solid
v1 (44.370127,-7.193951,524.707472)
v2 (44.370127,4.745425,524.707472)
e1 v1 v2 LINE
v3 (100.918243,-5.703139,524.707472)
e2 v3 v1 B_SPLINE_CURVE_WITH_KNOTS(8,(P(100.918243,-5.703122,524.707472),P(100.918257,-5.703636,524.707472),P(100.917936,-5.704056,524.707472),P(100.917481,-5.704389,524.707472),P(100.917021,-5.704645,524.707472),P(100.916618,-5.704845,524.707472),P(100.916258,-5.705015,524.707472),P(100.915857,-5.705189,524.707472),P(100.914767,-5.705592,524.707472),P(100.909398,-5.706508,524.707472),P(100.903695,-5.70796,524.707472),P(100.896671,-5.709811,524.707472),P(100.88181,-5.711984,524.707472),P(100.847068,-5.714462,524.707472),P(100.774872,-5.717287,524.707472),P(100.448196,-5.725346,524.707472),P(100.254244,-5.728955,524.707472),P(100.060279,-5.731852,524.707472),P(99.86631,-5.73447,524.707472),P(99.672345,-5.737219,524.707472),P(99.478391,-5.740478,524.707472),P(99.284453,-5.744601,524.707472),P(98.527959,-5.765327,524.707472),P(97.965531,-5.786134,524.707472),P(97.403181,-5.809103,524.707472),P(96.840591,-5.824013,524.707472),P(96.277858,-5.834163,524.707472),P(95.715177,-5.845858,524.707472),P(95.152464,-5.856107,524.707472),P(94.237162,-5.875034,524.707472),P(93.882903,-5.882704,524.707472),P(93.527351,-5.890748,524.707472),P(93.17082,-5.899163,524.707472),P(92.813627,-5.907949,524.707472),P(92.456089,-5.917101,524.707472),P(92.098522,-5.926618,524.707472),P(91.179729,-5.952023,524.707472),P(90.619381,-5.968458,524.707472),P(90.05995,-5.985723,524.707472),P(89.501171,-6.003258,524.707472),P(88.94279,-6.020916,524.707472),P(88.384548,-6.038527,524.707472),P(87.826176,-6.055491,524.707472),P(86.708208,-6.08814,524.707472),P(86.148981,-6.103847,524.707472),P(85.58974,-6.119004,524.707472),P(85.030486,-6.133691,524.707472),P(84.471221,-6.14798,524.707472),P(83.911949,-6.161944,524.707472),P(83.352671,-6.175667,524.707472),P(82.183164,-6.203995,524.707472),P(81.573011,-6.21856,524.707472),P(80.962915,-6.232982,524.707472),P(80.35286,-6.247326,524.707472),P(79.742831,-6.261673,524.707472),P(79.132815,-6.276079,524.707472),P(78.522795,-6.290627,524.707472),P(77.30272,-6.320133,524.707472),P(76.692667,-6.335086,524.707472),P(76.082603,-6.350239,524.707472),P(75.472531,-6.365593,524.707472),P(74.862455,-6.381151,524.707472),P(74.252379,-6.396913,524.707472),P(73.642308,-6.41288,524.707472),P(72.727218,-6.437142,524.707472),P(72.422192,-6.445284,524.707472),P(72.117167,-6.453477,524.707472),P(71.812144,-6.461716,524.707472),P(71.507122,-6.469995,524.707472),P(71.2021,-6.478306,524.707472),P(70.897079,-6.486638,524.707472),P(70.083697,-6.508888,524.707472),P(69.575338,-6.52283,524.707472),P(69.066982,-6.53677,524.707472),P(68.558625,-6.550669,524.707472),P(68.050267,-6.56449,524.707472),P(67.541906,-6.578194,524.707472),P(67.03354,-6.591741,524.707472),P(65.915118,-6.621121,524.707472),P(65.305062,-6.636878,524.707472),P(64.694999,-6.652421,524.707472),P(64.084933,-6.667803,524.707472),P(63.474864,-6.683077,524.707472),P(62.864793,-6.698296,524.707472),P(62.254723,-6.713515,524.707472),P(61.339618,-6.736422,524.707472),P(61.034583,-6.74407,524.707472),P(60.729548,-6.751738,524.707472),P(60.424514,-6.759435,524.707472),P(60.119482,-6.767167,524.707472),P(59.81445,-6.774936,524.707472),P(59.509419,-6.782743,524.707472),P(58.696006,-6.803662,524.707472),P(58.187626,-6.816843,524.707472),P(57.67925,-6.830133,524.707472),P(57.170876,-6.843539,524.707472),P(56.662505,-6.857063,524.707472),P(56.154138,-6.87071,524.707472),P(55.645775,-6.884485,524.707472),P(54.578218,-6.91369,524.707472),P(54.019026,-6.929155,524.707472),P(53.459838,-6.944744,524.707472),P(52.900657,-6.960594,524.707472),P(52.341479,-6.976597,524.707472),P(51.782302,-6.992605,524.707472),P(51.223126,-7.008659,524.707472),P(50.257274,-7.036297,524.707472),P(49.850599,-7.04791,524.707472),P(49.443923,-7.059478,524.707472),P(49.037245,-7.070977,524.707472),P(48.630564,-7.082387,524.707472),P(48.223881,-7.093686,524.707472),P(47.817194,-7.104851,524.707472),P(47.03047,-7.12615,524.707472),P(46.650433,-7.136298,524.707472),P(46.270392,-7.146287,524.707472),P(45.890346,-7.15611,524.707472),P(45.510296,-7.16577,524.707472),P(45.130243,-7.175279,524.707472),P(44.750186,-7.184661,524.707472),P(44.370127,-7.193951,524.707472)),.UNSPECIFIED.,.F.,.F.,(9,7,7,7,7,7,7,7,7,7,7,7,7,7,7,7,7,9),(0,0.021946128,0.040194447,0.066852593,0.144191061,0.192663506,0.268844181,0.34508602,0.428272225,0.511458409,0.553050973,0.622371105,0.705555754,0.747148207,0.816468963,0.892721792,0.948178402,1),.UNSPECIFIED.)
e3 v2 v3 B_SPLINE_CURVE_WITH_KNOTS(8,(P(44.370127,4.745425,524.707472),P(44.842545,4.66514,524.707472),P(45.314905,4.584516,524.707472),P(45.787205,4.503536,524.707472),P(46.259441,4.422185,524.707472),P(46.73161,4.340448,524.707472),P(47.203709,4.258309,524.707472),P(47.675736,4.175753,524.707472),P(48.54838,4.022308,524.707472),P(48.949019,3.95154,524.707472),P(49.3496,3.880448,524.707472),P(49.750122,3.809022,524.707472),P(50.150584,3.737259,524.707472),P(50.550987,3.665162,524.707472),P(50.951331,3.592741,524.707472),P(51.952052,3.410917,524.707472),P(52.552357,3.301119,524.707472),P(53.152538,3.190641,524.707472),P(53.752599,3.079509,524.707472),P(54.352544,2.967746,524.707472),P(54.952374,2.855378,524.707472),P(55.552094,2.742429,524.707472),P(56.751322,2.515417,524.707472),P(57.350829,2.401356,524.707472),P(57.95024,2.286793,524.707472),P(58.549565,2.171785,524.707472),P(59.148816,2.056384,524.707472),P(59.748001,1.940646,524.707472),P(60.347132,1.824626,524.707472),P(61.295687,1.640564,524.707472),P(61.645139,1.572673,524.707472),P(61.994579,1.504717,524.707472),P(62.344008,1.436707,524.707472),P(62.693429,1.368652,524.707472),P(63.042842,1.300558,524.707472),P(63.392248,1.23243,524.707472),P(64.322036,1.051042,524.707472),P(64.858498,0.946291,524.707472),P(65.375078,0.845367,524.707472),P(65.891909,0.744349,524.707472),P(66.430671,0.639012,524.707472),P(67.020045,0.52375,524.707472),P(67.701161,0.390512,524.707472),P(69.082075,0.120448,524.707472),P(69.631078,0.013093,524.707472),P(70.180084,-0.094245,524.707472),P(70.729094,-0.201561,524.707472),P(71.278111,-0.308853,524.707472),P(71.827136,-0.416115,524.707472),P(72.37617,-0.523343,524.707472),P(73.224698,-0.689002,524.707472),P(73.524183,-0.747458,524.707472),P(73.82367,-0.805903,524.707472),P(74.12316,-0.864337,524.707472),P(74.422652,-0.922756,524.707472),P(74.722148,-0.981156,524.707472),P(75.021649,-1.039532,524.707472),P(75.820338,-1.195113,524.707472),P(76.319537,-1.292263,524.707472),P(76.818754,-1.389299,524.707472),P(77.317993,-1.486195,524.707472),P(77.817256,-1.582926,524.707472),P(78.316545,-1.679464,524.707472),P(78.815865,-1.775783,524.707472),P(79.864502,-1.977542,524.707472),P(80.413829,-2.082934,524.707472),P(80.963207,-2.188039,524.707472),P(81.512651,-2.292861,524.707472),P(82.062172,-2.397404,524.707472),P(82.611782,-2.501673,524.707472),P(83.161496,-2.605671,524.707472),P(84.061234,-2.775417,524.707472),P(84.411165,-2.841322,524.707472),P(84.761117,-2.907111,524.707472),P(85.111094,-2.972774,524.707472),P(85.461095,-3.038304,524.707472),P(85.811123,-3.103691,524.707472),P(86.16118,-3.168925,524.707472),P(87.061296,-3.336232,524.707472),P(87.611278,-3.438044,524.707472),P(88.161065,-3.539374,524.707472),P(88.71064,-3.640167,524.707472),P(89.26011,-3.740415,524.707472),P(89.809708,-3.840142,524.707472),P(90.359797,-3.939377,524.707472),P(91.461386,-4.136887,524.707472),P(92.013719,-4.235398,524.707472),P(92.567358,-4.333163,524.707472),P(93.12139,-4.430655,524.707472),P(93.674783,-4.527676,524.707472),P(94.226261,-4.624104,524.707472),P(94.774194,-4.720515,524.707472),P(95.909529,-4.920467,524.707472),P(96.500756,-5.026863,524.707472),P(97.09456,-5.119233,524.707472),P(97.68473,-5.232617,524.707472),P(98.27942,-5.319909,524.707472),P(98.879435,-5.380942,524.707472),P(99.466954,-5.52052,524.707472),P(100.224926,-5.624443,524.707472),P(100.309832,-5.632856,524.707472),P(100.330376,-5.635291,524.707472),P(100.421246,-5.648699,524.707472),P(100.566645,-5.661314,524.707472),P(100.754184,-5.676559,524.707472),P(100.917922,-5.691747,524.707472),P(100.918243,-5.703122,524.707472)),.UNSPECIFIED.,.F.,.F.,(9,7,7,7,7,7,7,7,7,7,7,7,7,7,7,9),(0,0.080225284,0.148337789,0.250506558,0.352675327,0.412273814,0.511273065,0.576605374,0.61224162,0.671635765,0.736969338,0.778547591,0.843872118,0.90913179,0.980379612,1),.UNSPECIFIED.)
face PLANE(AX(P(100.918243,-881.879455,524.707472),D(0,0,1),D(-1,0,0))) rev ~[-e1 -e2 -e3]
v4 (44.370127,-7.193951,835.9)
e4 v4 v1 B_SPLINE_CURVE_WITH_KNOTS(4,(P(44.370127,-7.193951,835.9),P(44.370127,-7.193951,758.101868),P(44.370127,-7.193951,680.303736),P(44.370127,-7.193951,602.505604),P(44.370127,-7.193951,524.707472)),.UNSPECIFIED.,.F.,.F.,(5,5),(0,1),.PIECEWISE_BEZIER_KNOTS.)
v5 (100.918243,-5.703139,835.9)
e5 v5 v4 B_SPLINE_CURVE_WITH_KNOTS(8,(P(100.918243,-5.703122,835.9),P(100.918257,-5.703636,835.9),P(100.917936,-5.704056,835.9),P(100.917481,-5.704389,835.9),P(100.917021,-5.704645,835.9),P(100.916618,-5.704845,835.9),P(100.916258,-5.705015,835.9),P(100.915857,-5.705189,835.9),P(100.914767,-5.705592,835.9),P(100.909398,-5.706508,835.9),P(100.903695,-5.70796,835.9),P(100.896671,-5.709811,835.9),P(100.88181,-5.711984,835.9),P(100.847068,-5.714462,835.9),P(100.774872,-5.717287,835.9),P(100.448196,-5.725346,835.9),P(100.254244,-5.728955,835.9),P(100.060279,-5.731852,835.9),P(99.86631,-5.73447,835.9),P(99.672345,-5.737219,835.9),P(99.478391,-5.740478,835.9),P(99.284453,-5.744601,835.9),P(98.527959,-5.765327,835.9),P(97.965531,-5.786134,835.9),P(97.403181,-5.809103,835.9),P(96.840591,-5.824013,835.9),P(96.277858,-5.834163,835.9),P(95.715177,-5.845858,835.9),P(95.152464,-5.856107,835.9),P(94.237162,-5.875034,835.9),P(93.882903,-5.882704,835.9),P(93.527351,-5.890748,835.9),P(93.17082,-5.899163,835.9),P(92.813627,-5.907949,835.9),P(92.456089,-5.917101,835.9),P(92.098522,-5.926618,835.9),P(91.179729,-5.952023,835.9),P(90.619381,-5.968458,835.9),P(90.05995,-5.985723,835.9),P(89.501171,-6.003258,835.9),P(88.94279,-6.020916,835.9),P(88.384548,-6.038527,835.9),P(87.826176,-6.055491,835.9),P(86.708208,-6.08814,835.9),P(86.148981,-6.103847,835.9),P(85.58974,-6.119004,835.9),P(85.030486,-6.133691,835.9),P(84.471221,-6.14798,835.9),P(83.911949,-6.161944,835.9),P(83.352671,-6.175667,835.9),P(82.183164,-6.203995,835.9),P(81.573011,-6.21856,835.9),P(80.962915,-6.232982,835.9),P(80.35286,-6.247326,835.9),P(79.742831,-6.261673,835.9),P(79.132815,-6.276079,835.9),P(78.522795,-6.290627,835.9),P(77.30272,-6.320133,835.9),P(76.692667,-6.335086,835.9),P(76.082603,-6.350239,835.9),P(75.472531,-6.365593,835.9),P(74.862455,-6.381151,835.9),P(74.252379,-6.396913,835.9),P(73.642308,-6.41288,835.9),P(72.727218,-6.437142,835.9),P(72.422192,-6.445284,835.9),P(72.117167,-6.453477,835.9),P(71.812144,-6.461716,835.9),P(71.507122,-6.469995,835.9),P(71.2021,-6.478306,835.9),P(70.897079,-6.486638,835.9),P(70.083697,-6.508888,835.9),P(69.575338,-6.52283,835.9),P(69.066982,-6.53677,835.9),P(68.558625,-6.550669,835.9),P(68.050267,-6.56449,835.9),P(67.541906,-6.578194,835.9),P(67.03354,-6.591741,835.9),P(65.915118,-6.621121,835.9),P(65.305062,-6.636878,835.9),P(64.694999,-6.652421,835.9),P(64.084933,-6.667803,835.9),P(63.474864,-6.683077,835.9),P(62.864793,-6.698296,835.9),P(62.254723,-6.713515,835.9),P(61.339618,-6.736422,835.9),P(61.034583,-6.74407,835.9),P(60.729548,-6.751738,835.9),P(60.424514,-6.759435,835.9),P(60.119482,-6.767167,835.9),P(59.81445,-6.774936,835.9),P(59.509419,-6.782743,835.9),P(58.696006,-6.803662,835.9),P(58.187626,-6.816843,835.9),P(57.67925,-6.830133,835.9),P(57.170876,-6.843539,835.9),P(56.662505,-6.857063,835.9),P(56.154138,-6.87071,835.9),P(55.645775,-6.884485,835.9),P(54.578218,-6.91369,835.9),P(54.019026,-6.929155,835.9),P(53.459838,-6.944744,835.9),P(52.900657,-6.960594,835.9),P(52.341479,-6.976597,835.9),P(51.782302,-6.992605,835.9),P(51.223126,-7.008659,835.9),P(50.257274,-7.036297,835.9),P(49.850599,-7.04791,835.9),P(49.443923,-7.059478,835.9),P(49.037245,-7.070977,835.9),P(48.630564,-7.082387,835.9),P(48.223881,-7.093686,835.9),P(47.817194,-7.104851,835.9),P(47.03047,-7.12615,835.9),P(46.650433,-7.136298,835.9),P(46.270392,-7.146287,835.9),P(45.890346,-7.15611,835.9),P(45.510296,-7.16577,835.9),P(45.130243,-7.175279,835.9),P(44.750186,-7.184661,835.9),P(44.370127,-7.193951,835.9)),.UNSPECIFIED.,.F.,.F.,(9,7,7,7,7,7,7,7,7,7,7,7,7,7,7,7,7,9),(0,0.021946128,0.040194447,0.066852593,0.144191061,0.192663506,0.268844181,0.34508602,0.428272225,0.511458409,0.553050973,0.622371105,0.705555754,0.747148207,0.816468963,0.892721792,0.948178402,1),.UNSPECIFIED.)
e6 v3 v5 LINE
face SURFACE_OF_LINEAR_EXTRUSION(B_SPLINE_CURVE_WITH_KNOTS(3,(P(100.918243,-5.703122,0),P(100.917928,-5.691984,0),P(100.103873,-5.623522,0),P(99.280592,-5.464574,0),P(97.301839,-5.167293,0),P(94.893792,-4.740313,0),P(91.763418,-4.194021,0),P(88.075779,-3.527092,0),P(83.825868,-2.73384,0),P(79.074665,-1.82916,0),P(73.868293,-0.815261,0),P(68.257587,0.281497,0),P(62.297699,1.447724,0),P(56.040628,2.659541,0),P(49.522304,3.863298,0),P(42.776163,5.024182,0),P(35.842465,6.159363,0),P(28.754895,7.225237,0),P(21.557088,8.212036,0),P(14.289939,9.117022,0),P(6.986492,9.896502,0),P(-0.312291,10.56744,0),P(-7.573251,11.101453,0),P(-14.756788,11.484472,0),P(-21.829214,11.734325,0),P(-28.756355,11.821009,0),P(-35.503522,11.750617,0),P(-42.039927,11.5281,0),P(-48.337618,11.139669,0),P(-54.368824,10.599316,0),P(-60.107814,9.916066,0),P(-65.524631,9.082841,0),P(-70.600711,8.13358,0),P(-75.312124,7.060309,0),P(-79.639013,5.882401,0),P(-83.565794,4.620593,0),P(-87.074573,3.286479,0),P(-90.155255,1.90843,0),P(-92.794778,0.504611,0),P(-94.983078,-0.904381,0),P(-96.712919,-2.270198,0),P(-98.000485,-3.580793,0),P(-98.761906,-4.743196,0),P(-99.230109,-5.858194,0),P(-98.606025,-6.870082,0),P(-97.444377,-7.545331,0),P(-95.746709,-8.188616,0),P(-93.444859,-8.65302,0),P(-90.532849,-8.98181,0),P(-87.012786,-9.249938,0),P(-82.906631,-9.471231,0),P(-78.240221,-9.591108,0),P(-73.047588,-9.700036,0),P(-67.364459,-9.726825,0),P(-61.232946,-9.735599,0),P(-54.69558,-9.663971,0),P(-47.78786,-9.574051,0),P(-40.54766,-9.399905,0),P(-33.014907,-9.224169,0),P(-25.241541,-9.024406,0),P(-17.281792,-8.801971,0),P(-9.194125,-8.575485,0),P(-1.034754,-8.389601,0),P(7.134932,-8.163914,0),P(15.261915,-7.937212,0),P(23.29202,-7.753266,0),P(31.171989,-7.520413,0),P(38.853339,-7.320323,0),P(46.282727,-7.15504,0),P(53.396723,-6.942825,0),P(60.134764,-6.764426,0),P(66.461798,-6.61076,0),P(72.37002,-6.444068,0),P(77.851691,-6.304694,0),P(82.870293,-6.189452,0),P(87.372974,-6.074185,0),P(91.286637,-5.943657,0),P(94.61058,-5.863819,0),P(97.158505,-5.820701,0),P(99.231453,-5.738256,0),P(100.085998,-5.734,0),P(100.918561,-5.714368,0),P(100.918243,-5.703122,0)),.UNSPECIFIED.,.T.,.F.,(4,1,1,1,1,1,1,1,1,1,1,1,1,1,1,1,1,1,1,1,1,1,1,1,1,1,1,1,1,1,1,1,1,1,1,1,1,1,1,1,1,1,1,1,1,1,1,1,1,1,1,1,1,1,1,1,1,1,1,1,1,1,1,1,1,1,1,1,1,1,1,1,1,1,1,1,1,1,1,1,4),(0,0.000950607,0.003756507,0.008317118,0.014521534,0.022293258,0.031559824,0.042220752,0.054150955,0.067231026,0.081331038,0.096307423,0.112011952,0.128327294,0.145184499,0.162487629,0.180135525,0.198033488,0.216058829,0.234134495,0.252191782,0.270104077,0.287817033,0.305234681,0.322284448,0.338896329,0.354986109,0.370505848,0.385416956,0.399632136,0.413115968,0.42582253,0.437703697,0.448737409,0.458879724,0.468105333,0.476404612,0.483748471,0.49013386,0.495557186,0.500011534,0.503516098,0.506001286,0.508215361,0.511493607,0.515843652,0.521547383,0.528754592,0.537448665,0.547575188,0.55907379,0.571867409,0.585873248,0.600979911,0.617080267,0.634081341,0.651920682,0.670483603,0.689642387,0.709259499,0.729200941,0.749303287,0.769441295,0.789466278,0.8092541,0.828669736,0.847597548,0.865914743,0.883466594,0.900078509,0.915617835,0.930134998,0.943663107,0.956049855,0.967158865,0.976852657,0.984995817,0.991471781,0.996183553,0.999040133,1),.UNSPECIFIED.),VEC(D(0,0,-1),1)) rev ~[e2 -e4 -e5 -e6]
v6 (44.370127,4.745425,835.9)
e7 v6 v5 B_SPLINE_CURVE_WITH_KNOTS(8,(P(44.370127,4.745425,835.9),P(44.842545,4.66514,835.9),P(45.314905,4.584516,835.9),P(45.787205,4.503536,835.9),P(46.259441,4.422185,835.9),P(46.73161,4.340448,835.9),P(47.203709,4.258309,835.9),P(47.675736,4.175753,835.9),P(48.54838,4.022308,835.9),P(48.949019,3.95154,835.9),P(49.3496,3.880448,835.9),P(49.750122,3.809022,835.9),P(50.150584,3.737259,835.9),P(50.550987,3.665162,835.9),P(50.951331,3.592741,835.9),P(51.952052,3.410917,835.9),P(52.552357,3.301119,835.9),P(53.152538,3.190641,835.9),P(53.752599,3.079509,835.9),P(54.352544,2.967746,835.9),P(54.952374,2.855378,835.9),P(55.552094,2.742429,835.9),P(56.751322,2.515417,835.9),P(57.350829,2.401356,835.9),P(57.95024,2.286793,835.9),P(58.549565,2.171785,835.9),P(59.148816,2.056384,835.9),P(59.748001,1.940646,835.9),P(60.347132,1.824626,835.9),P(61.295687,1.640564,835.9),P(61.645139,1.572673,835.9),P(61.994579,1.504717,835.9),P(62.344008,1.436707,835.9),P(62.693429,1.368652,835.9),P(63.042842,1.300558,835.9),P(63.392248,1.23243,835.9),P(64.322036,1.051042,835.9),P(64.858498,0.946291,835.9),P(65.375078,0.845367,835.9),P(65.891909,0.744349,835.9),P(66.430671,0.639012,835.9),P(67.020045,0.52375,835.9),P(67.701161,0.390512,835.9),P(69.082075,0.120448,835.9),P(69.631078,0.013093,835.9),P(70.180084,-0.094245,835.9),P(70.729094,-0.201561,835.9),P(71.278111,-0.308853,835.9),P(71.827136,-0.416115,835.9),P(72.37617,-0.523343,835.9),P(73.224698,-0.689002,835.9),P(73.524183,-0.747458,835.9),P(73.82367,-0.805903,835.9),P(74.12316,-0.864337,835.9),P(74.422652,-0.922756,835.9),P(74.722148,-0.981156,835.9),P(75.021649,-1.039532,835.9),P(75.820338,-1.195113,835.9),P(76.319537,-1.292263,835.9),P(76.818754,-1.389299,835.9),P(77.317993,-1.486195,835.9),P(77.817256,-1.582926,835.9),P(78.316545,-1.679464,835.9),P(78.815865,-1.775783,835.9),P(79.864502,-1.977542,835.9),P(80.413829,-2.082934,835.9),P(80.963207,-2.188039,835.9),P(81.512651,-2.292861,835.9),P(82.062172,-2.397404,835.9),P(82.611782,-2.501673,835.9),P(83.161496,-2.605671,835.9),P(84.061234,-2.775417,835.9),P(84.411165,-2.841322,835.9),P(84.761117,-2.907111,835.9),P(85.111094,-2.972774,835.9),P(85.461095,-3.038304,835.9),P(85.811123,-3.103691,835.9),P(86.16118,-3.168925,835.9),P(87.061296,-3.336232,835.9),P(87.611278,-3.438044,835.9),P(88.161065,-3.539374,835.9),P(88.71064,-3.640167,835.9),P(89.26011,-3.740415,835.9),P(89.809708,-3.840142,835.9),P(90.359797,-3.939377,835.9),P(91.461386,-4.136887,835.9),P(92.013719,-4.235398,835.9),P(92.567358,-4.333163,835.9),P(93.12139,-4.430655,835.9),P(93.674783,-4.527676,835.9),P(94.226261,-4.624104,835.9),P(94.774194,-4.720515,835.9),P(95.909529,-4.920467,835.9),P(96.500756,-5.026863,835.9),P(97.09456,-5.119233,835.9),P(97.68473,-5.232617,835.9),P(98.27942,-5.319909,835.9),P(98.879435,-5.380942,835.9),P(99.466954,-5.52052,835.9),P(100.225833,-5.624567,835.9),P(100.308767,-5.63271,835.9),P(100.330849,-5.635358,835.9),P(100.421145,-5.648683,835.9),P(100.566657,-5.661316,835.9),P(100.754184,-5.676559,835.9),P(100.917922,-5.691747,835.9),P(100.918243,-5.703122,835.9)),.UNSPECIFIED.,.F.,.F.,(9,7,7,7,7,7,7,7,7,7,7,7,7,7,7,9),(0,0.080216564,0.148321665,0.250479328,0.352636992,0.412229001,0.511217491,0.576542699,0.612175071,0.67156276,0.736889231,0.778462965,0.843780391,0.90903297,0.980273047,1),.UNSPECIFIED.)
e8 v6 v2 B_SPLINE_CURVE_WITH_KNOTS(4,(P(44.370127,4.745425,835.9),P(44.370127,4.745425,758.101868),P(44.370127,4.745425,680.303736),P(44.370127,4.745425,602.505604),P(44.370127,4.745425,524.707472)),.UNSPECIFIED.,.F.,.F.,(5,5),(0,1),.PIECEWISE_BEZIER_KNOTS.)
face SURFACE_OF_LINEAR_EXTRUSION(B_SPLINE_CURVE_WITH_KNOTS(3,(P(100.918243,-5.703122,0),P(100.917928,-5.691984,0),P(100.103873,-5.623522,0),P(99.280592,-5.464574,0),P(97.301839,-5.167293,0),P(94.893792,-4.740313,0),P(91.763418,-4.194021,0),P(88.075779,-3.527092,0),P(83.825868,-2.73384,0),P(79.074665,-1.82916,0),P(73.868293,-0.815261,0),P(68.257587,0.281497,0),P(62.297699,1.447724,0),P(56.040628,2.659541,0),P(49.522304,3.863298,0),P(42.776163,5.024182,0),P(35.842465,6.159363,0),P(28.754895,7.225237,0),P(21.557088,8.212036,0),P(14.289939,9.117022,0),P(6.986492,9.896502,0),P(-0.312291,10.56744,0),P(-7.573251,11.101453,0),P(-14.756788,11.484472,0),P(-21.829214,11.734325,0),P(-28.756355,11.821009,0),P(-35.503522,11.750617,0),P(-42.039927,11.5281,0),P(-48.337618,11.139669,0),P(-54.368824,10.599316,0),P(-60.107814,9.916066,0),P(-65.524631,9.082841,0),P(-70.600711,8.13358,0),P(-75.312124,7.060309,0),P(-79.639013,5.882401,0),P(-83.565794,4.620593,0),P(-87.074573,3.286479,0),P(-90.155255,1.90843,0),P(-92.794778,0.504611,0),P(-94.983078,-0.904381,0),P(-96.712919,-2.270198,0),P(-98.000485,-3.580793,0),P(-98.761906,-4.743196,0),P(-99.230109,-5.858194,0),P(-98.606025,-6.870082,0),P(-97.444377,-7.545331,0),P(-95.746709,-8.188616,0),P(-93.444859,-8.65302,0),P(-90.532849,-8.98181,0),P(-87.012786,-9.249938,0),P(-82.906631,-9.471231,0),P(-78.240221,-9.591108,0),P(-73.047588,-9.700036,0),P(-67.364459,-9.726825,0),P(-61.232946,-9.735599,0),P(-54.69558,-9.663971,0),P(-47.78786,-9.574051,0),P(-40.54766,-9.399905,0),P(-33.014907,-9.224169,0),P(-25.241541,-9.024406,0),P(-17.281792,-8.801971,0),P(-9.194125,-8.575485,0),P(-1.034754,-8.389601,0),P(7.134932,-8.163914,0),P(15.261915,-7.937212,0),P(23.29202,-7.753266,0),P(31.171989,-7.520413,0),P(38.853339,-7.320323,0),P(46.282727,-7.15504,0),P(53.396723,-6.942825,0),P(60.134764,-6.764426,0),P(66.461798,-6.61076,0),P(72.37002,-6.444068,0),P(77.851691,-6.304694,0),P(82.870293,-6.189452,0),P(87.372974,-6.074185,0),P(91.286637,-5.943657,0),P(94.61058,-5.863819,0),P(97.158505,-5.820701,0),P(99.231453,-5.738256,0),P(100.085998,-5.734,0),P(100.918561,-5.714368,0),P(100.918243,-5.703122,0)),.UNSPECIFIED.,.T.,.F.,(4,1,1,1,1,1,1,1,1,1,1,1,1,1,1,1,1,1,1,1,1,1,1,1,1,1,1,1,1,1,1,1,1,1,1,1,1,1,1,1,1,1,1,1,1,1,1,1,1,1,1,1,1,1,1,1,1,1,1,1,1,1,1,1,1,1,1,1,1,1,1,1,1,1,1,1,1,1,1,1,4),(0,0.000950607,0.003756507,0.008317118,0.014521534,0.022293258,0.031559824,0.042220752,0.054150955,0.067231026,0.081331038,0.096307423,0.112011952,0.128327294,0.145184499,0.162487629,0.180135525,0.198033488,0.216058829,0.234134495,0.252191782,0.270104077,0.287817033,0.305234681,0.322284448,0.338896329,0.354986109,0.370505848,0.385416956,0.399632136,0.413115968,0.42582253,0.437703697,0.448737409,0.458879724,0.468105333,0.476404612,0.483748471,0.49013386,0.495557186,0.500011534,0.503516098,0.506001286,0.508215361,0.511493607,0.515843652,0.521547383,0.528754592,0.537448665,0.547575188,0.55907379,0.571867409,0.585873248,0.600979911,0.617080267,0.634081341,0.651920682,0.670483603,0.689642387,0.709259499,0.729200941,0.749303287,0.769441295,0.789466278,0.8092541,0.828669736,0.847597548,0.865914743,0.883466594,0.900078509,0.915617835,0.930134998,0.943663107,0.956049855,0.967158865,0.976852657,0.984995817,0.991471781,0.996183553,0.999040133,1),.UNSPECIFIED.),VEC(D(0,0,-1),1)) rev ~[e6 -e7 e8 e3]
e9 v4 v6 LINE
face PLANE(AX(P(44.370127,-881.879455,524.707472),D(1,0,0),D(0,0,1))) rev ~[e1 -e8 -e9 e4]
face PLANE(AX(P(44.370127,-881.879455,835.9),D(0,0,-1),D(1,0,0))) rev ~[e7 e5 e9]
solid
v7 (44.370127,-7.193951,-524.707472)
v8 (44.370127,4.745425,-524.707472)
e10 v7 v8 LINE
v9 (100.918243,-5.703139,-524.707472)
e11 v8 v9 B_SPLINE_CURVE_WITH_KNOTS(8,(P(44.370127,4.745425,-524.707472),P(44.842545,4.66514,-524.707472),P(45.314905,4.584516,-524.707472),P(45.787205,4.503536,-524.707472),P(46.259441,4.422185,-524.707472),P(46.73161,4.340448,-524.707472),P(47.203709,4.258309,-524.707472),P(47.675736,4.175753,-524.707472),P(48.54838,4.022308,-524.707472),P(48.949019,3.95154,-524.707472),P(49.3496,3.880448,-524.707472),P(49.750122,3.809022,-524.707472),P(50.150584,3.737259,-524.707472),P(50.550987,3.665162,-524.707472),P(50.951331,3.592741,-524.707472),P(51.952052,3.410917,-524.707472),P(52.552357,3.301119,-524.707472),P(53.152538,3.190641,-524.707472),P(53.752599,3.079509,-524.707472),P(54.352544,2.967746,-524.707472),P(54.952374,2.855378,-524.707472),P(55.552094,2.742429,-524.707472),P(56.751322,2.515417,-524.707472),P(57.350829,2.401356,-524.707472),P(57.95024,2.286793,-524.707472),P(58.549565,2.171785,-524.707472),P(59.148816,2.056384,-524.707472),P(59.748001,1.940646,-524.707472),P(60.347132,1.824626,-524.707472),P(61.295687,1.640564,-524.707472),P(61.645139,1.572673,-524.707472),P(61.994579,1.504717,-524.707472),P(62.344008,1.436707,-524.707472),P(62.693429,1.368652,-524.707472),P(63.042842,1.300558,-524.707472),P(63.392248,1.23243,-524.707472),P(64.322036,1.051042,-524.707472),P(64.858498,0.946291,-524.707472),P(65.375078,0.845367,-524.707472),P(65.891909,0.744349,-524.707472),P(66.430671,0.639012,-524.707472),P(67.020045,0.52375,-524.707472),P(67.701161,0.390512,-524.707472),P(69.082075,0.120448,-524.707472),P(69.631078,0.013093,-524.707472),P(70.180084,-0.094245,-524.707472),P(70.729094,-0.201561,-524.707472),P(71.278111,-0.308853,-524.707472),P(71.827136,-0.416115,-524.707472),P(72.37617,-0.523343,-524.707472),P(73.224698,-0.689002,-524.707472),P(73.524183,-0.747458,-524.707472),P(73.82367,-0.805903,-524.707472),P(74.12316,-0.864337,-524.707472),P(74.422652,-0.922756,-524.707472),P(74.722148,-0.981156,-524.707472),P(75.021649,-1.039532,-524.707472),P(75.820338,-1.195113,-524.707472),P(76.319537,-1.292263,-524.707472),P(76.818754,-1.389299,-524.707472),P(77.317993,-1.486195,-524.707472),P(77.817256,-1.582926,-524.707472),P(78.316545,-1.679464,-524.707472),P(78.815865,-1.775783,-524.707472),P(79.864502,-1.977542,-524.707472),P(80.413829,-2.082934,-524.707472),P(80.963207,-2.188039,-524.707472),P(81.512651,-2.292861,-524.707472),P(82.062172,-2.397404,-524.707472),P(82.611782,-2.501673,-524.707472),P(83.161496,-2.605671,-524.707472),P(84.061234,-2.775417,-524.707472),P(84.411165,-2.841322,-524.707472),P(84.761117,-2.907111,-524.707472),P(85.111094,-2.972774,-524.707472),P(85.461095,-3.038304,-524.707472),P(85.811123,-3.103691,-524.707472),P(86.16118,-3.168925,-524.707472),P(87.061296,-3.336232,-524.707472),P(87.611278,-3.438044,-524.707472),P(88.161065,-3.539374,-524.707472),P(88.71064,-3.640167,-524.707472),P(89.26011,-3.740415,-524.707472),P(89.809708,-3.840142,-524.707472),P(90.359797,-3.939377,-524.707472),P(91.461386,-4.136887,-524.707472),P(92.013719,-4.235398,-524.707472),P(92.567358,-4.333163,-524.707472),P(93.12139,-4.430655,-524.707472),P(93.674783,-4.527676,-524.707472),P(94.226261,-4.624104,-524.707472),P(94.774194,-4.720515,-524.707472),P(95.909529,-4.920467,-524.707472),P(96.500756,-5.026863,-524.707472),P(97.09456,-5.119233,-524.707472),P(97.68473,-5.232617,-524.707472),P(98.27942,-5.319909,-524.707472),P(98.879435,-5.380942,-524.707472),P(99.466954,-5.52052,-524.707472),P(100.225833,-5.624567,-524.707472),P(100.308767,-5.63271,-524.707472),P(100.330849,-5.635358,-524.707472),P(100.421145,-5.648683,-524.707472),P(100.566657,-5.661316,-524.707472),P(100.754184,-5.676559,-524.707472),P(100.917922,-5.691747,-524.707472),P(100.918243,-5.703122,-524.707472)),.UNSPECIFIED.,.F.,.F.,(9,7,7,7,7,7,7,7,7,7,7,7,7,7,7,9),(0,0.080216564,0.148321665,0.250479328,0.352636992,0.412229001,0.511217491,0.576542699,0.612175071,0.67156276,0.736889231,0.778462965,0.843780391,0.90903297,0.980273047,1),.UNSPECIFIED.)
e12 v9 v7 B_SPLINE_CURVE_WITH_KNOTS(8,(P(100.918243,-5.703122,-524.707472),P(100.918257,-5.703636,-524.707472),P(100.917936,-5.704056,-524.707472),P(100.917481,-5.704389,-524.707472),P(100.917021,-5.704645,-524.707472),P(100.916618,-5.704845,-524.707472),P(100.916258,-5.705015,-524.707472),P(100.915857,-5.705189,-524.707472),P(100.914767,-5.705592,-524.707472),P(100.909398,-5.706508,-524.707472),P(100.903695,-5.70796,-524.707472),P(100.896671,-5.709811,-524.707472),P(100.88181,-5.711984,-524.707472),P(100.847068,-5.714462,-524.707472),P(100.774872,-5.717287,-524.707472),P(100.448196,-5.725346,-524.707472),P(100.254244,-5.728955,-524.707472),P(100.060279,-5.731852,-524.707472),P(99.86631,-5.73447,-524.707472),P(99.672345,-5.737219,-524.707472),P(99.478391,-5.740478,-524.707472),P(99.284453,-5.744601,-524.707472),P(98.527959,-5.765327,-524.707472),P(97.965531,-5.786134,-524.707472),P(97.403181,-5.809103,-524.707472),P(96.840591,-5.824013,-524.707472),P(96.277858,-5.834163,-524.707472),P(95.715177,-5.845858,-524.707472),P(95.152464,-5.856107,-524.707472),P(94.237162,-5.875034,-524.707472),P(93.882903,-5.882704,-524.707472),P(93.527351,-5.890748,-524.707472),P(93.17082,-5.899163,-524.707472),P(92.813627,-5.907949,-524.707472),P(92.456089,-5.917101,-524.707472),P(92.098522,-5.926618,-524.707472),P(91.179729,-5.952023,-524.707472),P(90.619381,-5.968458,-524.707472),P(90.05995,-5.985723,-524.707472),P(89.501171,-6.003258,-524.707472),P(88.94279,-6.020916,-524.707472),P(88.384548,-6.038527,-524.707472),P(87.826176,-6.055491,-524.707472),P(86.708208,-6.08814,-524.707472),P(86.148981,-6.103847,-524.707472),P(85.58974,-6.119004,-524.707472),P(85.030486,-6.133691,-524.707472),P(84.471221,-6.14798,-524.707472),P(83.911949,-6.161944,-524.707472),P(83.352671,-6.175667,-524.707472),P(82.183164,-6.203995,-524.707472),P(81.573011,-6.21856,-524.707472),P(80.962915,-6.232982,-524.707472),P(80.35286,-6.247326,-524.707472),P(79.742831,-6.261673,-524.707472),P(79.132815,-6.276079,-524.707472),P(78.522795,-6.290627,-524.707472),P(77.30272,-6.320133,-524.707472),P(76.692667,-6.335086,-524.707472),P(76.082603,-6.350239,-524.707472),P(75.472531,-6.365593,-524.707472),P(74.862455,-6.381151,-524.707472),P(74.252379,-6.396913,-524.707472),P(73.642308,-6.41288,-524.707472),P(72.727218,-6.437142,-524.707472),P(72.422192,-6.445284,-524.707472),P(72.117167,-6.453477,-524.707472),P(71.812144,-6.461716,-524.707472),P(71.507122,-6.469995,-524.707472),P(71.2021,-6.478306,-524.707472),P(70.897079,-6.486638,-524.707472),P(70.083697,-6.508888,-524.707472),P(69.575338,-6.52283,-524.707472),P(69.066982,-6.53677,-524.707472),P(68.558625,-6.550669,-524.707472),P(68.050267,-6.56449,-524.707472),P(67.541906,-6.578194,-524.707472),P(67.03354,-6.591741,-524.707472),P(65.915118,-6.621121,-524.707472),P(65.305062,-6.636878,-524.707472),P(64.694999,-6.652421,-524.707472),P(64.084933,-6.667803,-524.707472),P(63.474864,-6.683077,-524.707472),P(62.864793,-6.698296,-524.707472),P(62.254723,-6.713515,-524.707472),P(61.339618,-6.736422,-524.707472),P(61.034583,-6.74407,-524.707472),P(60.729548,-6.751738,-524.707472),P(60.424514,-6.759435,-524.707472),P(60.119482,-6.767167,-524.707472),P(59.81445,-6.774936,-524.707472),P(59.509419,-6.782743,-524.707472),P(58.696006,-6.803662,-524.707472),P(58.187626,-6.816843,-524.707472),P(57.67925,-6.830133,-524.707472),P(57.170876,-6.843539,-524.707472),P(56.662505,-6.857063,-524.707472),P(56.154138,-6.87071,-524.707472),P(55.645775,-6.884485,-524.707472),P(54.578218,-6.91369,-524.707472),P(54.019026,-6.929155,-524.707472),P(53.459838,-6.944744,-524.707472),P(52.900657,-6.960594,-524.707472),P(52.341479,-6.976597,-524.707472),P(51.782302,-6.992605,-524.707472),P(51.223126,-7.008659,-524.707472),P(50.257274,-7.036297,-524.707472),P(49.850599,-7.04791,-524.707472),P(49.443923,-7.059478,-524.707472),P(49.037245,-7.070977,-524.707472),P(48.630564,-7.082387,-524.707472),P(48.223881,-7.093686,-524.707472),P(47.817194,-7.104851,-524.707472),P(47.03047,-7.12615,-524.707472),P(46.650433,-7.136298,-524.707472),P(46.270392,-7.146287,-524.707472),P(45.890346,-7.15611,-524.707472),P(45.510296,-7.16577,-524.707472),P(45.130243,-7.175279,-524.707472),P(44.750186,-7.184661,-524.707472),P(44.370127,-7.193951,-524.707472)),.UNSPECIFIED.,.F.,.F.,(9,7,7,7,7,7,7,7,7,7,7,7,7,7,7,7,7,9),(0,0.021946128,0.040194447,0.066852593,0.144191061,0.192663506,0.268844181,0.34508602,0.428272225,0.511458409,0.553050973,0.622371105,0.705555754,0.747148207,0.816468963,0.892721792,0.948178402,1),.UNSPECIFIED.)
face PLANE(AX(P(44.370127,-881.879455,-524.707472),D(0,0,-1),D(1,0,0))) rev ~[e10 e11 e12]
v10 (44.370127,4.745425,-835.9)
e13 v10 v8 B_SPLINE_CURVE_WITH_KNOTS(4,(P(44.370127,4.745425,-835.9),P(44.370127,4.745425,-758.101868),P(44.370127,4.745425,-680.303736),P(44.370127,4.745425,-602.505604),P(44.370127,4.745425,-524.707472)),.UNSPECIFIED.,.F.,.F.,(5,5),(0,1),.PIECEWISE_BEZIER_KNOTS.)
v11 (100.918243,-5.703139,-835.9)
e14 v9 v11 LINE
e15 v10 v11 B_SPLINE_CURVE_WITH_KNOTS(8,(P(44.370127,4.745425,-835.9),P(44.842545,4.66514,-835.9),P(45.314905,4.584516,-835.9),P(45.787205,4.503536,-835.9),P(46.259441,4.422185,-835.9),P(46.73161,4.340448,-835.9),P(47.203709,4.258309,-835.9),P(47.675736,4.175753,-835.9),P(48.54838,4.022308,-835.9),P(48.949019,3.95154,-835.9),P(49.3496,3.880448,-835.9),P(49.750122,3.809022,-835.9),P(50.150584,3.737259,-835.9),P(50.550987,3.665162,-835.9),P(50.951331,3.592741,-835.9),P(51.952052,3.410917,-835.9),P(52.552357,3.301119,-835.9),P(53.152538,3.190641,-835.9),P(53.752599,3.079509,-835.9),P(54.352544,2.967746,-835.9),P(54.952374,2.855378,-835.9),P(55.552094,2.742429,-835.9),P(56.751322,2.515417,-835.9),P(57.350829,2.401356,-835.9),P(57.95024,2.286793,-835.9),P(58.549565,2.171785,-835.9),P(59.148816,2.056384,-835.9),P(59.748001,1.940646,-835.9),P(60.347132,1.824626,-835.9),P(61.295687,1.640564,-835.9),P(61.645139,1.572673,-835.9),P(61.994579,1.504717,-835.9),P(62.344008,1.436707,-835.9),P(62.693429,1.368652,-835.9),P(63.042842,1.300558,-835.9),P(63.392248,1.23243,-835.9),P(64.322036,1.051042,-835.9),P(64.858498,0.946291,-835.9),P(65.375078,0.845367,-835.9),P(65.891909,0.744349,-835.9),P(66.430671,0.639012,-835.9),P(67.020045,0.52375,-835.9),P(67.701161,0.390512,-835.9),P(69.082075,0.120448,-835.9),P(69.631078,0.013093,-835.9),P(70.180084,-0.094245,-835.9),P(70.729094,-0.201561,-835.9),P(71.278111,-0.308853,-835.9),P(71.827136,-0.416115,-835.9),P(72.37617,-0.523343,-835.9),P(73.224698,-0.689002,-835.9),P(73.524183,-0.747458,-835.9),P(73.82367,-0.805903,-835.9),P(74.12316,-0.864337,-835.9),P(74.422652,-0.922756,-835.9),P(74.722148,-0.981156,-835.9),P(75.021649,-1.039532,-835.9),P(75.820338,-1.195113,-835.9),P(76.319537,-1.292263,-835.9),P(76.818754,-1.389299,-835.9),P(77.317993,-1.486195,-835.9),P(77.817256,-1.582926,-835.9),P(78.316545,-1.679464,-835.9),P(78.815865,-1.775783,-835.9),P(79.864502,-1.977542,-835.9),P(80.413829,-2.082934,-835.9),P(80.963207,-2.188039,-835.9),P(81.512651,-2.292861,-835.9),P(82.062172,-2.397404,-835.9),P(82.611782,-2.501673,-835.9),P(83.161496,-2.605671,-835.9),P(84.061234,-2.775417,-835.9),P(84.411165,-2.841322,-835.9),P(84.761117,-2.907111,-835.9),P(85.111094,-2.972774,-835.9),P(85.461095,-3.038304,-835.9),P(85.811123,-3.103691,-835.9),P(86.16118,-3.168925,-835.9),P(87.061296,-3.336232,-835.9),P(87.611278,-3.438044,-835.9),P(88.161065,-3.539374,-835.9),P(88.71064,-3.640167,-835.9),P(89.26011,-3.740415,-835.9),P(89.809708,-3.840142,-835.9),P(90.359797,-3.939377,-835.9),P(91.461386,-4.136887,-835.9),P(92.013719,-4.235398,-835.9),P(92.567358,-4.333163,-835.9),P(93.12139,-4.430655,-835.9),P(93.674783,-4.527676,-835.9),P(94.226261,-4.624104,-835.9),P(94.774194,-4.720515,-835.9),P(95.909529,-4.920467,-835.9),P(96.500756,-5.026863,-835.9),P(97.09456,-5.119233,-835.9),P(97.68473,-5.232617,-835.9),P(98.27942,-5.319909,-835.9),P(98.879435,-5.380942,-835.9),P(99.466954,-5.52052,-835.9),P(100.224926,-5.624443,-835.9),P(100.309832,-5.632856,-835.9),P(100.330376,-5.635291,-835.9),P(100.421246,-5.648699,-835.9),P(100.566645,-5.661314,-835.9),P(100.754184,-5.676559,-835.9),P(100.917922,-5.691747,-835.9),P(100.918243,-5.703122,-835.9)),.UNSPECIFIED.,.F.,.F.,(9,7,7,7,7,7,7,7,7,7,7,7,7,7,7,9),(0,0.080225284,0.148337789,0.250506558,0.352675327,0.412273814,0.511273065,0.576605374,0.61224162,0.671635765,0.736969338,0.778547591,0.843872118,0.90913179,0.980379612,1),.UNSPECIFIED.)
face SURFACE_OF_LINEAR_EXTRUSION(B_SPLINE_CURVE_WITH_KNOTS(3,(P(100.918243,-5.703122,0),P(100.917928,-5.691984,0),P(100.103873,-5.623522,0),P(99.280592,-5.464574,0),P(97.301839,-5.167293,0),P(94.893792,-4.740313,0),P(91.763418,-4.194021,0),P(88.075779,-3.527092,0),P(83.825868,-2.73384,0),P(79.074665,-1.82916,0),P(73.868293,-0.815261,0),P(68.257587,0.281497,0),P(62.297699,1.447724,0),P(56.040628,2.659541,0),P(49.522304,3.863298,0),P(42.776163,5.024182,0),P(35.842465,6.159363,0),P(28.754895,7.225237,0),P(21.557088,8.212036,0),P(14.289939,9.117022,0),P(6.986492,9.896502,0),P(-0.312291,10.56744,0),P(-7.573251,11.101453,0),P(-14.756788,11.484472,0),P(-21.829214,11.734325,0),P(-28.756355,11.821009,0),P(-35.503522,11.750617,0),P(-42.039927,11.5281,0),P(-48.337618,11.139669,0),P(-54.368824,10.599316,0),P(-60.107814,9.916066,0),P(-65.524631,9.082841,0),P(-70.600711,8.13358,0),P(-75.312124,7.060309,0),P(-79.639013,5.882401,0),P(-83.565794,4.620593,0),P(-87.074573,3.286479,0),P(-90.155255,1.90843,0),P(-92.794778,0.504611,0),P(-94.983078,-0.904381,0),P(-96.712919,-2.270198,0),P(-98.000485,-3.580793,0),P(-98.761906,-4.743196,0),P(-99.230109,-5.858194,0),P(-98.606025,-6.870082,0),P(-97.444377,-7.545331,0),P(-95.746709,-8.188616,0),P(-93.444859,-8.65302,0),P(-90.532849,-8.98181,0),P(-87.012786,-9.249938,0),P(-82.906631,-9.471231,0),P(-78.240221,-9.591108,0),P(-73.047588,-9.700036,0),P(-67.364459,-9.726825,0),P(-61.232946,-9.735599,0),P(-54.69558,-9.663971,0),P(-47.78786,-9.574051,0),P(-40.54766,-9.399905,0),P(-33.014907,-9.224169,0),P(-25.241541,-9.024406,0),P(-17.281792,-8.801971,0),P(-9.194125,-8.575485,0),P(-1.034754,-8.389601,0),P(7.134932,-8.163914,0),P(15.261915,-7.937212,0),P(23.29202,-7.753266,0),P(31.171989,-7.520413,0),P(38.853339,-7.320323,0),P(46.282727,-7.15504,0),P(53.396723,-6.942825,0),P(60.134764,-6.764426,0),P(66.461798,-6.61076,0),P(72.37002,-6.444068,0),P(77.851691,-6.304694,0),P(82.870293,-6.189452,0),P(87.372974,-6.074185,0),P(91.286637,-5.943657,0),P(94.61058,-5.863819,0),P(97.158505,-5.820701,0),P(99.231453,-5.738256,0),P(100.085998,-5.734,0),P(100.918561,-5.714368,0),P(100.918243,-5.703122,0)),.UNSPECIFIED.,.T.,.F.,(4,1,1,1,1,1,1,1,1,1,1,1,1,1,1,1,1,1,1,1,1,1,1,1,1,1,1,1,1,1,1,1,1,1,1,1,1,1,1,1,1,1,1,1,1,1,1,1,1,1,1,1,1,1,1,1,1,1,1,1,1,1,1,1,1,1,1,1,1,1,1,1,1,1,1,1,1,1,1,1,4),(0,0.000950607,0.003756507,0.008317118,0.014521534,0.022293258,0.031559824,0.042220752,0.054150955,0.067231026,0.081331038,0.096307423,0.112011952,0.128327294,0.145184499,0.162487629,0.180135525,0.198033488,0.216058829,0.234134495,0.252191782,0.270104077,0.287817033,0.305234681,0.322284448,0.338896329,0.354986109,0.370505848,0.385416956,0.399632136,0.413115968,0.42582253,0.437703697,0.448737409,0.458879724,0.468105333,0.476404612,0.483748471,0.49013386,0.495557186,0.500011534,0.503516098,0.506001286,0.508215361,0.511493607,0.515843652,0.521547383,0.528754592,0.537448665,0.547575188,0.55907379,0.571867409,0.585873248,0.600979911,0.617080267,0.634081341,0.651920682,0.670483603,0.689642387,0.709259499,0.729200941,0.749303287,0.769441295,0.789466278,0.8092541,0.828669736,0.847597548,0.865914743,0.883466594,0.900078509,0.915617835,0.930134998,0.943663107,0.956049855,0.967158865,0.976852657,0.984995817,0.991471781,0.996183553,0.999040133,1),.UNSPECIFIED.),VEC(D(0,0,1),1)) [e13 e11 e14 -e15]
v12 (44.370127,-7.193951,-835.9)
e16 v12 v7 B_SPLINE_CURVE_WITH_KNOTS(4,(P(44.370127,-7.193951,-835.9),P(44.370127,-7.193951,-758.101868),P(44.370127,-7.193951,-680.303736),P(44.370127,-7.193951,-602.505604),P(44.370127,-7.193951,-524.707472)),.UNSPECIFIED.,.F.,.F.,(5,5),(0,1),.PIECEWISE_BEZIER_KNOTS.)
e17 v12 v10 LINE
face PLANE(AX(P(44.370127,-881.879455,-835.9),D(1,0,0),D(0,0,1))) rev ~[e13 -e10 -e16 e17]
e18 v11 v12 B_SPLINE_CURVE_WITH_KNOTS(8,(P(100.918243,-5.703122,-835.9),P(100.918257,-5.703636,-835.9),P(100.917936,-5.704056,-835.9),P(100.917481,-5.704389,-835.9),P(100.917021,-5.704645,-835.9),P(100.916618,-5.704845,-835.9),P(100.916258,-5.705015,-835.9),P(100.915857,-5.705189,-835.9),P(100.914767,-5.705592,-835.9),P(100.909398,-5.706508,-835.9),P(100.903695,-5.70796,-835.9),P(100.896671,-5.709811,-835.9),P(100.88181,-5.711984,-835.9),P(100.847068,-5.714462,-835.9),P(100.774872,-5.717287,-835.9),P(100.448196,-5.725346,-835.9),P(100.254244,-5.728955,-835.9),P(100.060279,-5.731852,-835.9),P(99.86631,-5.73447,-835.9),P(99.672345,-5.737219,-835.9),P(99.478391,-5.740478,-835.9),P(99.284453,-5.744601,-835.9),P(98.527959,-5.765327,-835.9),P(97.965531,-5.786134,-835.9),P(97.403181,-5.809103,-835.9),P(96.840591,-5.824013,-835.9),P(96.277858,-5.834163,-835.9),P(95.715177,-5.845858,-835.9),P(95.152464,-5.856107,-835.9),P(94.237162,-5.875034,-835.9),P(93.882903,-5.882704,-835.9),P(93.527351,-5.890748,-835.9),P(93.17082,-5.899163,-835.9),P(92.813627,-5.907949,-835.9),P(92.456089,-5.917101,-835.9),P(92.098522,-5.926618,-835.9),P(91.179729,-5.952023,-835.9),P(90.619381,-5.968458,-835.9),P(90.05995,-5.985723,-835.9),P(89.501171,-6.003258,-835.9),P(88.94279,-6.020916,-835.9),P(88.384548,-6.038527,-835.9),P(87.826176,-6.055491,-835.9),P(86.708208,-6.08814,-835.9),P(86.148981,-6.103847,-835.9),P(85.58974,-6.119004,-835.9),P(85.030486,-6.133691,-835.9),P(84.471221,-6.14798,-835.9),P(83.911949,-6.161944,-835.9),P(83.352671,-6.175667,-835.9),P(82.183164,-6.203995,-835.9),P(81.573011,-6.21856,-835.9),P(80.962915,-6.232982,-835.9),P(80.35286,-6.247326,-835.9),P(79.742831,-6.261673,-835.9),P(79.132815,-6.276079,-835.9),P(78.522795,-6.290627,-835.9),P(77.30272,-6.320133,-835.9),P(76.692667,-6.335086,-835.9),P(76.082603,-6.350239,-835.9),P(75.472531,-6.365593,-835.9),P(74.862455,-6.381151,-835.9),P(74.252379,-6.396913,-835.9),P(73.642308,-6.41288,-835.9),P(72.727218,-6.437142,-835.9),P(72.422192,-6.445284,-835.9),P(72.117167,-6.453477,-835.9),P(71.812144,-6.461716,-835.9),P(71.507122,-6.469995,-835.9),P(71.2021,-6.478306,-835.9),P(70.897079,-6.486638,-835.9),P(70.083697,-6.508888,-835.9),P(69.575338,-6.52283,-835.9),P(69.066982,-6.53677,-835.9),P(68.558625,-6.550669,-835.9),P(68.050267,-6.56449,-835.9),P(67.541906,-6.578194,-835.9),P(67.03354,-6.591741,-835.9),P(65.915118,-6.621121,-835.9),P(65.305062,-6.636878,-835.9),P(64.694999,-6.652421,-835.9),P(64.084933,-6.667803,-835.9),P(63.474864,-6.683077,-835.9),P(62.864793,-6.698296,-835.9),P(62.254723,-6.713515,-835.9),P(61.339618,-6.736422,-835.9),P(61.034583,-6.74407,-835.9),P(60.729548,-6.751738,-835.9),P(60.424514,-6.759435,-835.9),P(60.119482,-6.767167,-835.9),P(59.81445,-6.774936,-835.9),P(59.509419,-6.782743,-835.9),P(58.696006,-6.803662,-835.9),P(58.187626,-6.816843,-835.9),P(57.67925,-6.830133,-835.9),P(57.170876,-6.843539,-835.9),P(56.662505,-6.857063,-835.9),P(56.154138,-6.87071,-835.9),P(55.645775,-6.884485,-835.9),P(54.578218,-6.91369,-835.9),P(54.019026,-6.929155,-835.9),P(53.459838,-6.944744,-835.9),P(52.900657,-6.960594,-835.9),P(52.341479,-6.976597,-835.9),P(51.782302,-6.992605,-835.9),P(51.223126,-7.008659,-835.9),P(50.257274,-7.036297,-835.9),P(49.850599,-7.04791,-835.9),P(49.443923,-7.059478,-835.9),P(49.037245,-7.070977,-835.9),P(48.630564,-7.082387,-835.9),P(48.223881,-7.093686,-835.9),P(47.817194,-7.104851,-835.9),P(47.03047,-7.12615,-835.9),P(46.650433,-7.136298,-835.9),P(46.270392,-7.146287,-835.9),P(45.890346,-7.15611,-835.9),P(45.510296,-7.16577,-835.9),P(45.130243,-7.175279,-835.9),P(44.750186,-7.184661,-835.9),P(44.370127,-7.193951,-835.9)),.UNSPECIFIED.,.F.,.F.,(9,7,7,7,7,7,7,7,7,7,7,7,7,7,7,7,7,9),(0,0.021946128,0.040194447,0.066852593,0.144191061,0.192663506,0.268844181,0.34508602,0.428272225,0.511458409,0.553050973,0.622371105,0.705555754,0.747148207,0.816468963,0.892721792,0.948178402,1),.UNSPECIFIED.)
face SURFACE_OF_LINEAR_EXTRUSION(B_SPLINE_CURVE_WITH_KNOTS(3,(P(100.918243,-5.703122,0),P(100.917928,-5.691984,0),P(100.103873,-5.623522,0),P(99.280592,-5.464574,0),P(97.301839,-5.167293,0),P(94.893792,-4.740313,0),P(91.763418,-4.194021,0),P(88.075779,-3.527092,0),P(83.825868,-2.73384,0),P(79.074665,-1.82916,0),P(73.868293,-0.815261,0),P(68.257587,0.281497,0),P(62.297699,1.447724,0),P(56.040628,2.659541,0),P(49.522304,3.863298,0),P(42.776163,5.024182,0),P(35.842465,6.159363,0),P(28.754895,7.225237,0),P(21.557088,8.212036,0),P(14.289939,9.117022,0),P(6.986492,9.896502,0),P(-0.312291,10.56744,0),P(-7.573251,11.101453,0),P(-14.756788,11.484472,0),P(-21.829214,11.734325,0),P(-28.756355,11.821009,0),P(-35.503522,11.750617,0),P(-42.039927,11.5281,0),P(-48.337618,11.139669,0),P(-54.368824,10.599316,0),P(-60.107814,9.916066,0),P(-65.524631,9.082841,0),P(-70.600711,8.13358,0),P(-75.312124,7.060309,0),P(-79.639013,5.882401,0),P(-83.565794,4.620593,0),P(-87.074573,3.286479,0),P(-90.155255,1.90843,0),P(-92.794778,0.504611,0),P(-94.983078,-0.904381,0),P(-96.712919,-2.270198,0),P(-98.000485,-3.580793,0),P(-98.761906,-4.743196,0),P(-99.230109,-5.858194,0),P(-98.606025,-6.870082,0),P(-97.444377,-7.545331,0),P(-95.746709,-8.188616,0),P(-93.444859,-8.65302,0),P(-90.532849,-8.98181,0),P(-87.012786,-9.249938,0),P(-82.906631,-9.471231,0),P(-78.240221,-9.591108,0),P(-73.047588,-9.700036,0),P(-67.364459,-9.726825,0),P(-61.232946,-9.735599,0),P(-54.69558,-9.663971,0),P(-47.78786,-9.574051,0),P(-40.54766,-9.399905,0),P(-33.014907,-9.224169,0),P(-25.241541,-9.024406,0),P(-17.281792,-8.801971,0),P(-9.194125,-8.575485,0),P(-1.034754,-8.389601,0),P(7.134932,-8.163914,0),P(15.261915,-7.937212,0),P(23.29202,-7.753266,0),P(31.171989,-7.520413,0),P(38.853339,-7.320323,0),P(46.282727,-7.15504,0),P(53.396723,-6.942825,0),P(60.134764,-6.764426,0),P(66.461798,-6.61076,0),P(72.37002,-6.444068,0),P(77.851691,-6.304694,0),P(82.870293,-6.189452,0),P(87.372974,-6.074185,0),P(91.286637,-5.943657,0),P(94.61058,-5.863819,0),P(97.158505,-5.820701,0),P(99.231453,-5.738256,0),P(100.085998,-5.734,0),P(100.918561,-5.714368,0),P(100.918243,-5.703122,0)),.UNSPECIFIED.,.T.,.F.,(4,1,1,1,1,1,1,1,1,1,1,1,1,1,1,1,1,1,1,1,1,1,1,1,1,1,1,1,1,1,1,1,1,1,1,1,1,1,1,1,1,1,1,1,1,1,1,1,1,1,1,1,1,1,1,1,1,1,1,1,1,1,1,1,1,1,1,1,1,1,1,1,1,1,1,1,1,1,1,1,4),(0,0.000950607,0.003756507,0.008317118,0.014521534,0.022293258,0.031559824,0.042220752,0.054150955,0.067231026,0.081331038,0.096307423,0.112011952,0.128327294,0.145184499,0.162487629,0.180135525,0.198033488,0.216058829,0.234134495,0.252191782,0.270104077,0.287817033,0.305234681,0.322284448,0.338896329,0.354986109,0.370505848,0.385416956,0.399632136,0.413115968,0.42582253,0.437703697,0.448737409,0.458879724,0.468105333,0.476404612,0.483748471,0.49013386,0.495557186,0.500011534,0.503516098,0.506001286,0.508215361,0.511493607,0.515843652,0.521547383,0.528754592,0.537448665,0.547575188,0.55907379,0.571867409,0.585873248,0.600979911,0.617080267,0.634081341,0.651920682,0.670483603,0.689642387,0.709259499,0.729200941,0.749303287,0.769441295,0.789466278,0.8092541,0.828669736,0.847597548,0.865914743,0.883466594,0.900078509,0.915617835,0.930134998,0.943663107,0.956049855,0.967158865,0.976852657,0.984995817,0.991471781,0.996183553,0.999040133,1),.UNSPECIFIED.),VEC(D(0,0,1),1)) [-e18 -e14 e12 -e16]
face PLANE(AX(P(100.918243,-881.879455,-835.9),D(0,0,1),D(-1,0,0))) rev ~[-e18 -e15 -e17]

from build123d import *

# Parameters (mm, degrees)
BOSS_EXTRUDE1_DEPTH     = 875
CUT_EXTRUDE1_DEPTH      = 881.879454843
CUT_EXTRUDE1_DEPTH_BACK = 881.879454843


with BuildPart() as part:
    # Sketch1 → Boss-Extrude1 (new, symmetric)
    with BuildSketch(Plane.XY):
        with BuildLine():
            add(Edge.make_bspline(
                [(100.91824287, -5.70312156), (100.917928302, -5.691984058), (100.103872555, -5.623522289), (99.280592479, -5.464574379), (97.301838761, -5.167293181), (94.893792204, -4.740313208), (91.763418033, -4.194020721), (88.075779131, -3.527092424), (83.82586832, -2.733839889), (79.07466539, -1.829159833), (73.868292655, -0.815261424), (68.257586758, 0.28149671), (62.297699244, 1.44772436), (56.040627516, 2.659541325), (49.522304418, 3.863298421), (42.776163339, 5.024182063), (35.842465214, 6.159362695), (28.754894986, 7.225237491), (21.557088168, 8.212036363), (14.289938921, 9.11702244), (6.986491581, 9.896502104), (-0.312291465, 10.567439736), (-7.573250933, 11.101452566), (-14.756788427, 11.484472196), (-21.829214216, 11.73432499), (-28.756354515, 11.821009192), (-35.503522333, 11.750617393), (-42.039927215, 11.528099679), (-48.337618053, 11.139668586), (-54.368823591, 10.599316119), (-60.107813763, 9.916065983), (-65.5246312, 9.082841334), (-70.600710971, 8.133580398), (-75.312124387, 7.06030936), (-79.639012678, 5.882400605), (-83.565794194, 4.620592947), (-87.074573399, 3.286478994), (-90.155255222, 1.908430123), (-92.7947781, 0.504611279), (-94.983077923, -0.904381491), (-96.712918902, -2.27019758), (-98.000485425, -3.580792759), (-98.761905736, -4.743195836), (-99.230109063, -5.858193724), (-98.606025292, -6.870082158), (-97.444377041, -7.545330585), (-95.746709082, -8.188615648), (-93.444858666, -8.65302005), (-90.532849186, -8.981809806), (-87.012786058, -9.249938029), (-82.906631066, -9.471230862), (-78.240220774, -9.591108348), (-73.047587861, -9.700035936), (-67.364458994, -9.726825212), (-61.232945666, -9.735598818), (-54.695580066, -9.663971329), (-47.787860167, -9.57405054), (-40.547660449, -9.399905225), (-33.014906842, -9.224168897), (-25.241541211, -9.024405524), (-17.28179212, -8.801970667), (-9.194124895, -8.575484575), (-1.034753503, -8.389600976), (7.134931724, -8.163914261), (15.261915306, -7.937211966), (23.292019947, -7.753265877), (31.171989128, -7.520412865), (38.853338861, -7.320323338), (46.282726984, -7.155039977), (53.396722649, -6.942825345), (60.134764376, -6.764425726), (66.461797873, -6.610760114), (72.370019545, -6.444067915), (77.851690837, -6.304693879), (82.870292529, -6.189451934), (87.37297449, -6.074184551), (91.286636897, -5.943657403), (94.610580102, -5.86381881), (97.158504539, -5.820700532), (99.231452991, -5.738256396), (100.085997803, -5.733999914), (100.918560502, -5.714367546), (100.91824287, -5.70312156)],
                knots=[0, 0, 0, 0, 0.000950607, 0.003756507, 0.008317118, 0.014521534, 0.022293258, 0.031559824, 0.042220752, 0.054150955, 0.067231026, 0.081331038, 0.096307423, 0.112011952, 0.128327294, 0.145184499, 0.162487629, 0.180135525, 0.198033488, 0.216058829, 0.234134495, 0.252191782, 0.270104077, 0.287817033, 0.305234681, 0.322284448, 0.338896329, 0.354986109, 0.370505848, 0.385416956, 0.399632136, 0.413115968, 0.42582253, 0.437703697, 0.448737409, 0.458879724, 0.468105333, 0.476404612, 0.483748471, 0.49013386, 0.495557186, 0.500011534, 0.503516098, 0.506001286, 0.508215361, 0.511493607, 0.515843652, 0.521547383, 0.528754592, 0.537448665, 0.547575188, 0.55907379, 0.571867409, 0.585873248, 0.600979911, 0.617080267, 0.634081341, 0.651920682, 0.670483603, 0.689642387, 0.709259499, 0.729200941, 0.749303287, 0.769441295, 0.789466278, 0.8092541, 0.828669736, 0.847597548, 0.865914743, 0.883466594, 0.900078509, 0.915617835, 0.930134998, 0.943663107, 0.956049855, 0.967158865, 0.976852657, 0.984995817, 0.991471781, 0.996183553, 0.999040133, 1, 1, 1, 1], degree=3))
        make_face()
    extrude(amount=BOSS_EXTRUDE1_DEPTH, both=True)

    # Sketch3 → Cut-Extrude1 (cut, two sides: drawn at the far end of the back side and taken through both)
    with BuildSketch(Plane(origin=(0, 0, 0), x_dir=(1, 0, 0), z_dir=(0, 1, 0)).offset(-CUT_EXTRUDE1_DEPTH_BACK)):
        Polygon((100.918243231, 835.9), (44.370126982, 835.9), (44.370126982, 524.707472239), (100.918243231, 524.707472239), (100.918243231, -524.707472239), (44.370126982, -524.707472239), (44.370126982, -835.9), (100.918243231, -835.9), (100.918243231, -1428.407127824), (-134.13320566, -1428.407127824), (-134.13320566, 941.271454546), (100.918243231, 941.271454546), align=None)
    extrude(amount=CUT_EXTRUDE1_DEPTH + CUT_EXTRUDE1_DEPTH_BACK, mode=Mode.SUBTRACT)


with BuildPart() as cut_extrude1_piece_1:
    # of the separate pieces the step leaves, piece 1, a body of its own (cut_extrude1_pieces)
    add(part.part.solids().sort_by_distance((100.91824311, -5.703138592, 524.707472239))[0])


with BuildPart() as cut_extrude1_piece_2:
    # of the separate pieces the step leaves, piece 2, a body of its own (cut_extrude1_pieces)
    add(part.part.solids().sort_by_distance((44.370126982, 4.745424617, -524.707472239))[0])


solid = Compound([cut_extrude1_piece_1.part, cut_extrude1_piece_2.part])
